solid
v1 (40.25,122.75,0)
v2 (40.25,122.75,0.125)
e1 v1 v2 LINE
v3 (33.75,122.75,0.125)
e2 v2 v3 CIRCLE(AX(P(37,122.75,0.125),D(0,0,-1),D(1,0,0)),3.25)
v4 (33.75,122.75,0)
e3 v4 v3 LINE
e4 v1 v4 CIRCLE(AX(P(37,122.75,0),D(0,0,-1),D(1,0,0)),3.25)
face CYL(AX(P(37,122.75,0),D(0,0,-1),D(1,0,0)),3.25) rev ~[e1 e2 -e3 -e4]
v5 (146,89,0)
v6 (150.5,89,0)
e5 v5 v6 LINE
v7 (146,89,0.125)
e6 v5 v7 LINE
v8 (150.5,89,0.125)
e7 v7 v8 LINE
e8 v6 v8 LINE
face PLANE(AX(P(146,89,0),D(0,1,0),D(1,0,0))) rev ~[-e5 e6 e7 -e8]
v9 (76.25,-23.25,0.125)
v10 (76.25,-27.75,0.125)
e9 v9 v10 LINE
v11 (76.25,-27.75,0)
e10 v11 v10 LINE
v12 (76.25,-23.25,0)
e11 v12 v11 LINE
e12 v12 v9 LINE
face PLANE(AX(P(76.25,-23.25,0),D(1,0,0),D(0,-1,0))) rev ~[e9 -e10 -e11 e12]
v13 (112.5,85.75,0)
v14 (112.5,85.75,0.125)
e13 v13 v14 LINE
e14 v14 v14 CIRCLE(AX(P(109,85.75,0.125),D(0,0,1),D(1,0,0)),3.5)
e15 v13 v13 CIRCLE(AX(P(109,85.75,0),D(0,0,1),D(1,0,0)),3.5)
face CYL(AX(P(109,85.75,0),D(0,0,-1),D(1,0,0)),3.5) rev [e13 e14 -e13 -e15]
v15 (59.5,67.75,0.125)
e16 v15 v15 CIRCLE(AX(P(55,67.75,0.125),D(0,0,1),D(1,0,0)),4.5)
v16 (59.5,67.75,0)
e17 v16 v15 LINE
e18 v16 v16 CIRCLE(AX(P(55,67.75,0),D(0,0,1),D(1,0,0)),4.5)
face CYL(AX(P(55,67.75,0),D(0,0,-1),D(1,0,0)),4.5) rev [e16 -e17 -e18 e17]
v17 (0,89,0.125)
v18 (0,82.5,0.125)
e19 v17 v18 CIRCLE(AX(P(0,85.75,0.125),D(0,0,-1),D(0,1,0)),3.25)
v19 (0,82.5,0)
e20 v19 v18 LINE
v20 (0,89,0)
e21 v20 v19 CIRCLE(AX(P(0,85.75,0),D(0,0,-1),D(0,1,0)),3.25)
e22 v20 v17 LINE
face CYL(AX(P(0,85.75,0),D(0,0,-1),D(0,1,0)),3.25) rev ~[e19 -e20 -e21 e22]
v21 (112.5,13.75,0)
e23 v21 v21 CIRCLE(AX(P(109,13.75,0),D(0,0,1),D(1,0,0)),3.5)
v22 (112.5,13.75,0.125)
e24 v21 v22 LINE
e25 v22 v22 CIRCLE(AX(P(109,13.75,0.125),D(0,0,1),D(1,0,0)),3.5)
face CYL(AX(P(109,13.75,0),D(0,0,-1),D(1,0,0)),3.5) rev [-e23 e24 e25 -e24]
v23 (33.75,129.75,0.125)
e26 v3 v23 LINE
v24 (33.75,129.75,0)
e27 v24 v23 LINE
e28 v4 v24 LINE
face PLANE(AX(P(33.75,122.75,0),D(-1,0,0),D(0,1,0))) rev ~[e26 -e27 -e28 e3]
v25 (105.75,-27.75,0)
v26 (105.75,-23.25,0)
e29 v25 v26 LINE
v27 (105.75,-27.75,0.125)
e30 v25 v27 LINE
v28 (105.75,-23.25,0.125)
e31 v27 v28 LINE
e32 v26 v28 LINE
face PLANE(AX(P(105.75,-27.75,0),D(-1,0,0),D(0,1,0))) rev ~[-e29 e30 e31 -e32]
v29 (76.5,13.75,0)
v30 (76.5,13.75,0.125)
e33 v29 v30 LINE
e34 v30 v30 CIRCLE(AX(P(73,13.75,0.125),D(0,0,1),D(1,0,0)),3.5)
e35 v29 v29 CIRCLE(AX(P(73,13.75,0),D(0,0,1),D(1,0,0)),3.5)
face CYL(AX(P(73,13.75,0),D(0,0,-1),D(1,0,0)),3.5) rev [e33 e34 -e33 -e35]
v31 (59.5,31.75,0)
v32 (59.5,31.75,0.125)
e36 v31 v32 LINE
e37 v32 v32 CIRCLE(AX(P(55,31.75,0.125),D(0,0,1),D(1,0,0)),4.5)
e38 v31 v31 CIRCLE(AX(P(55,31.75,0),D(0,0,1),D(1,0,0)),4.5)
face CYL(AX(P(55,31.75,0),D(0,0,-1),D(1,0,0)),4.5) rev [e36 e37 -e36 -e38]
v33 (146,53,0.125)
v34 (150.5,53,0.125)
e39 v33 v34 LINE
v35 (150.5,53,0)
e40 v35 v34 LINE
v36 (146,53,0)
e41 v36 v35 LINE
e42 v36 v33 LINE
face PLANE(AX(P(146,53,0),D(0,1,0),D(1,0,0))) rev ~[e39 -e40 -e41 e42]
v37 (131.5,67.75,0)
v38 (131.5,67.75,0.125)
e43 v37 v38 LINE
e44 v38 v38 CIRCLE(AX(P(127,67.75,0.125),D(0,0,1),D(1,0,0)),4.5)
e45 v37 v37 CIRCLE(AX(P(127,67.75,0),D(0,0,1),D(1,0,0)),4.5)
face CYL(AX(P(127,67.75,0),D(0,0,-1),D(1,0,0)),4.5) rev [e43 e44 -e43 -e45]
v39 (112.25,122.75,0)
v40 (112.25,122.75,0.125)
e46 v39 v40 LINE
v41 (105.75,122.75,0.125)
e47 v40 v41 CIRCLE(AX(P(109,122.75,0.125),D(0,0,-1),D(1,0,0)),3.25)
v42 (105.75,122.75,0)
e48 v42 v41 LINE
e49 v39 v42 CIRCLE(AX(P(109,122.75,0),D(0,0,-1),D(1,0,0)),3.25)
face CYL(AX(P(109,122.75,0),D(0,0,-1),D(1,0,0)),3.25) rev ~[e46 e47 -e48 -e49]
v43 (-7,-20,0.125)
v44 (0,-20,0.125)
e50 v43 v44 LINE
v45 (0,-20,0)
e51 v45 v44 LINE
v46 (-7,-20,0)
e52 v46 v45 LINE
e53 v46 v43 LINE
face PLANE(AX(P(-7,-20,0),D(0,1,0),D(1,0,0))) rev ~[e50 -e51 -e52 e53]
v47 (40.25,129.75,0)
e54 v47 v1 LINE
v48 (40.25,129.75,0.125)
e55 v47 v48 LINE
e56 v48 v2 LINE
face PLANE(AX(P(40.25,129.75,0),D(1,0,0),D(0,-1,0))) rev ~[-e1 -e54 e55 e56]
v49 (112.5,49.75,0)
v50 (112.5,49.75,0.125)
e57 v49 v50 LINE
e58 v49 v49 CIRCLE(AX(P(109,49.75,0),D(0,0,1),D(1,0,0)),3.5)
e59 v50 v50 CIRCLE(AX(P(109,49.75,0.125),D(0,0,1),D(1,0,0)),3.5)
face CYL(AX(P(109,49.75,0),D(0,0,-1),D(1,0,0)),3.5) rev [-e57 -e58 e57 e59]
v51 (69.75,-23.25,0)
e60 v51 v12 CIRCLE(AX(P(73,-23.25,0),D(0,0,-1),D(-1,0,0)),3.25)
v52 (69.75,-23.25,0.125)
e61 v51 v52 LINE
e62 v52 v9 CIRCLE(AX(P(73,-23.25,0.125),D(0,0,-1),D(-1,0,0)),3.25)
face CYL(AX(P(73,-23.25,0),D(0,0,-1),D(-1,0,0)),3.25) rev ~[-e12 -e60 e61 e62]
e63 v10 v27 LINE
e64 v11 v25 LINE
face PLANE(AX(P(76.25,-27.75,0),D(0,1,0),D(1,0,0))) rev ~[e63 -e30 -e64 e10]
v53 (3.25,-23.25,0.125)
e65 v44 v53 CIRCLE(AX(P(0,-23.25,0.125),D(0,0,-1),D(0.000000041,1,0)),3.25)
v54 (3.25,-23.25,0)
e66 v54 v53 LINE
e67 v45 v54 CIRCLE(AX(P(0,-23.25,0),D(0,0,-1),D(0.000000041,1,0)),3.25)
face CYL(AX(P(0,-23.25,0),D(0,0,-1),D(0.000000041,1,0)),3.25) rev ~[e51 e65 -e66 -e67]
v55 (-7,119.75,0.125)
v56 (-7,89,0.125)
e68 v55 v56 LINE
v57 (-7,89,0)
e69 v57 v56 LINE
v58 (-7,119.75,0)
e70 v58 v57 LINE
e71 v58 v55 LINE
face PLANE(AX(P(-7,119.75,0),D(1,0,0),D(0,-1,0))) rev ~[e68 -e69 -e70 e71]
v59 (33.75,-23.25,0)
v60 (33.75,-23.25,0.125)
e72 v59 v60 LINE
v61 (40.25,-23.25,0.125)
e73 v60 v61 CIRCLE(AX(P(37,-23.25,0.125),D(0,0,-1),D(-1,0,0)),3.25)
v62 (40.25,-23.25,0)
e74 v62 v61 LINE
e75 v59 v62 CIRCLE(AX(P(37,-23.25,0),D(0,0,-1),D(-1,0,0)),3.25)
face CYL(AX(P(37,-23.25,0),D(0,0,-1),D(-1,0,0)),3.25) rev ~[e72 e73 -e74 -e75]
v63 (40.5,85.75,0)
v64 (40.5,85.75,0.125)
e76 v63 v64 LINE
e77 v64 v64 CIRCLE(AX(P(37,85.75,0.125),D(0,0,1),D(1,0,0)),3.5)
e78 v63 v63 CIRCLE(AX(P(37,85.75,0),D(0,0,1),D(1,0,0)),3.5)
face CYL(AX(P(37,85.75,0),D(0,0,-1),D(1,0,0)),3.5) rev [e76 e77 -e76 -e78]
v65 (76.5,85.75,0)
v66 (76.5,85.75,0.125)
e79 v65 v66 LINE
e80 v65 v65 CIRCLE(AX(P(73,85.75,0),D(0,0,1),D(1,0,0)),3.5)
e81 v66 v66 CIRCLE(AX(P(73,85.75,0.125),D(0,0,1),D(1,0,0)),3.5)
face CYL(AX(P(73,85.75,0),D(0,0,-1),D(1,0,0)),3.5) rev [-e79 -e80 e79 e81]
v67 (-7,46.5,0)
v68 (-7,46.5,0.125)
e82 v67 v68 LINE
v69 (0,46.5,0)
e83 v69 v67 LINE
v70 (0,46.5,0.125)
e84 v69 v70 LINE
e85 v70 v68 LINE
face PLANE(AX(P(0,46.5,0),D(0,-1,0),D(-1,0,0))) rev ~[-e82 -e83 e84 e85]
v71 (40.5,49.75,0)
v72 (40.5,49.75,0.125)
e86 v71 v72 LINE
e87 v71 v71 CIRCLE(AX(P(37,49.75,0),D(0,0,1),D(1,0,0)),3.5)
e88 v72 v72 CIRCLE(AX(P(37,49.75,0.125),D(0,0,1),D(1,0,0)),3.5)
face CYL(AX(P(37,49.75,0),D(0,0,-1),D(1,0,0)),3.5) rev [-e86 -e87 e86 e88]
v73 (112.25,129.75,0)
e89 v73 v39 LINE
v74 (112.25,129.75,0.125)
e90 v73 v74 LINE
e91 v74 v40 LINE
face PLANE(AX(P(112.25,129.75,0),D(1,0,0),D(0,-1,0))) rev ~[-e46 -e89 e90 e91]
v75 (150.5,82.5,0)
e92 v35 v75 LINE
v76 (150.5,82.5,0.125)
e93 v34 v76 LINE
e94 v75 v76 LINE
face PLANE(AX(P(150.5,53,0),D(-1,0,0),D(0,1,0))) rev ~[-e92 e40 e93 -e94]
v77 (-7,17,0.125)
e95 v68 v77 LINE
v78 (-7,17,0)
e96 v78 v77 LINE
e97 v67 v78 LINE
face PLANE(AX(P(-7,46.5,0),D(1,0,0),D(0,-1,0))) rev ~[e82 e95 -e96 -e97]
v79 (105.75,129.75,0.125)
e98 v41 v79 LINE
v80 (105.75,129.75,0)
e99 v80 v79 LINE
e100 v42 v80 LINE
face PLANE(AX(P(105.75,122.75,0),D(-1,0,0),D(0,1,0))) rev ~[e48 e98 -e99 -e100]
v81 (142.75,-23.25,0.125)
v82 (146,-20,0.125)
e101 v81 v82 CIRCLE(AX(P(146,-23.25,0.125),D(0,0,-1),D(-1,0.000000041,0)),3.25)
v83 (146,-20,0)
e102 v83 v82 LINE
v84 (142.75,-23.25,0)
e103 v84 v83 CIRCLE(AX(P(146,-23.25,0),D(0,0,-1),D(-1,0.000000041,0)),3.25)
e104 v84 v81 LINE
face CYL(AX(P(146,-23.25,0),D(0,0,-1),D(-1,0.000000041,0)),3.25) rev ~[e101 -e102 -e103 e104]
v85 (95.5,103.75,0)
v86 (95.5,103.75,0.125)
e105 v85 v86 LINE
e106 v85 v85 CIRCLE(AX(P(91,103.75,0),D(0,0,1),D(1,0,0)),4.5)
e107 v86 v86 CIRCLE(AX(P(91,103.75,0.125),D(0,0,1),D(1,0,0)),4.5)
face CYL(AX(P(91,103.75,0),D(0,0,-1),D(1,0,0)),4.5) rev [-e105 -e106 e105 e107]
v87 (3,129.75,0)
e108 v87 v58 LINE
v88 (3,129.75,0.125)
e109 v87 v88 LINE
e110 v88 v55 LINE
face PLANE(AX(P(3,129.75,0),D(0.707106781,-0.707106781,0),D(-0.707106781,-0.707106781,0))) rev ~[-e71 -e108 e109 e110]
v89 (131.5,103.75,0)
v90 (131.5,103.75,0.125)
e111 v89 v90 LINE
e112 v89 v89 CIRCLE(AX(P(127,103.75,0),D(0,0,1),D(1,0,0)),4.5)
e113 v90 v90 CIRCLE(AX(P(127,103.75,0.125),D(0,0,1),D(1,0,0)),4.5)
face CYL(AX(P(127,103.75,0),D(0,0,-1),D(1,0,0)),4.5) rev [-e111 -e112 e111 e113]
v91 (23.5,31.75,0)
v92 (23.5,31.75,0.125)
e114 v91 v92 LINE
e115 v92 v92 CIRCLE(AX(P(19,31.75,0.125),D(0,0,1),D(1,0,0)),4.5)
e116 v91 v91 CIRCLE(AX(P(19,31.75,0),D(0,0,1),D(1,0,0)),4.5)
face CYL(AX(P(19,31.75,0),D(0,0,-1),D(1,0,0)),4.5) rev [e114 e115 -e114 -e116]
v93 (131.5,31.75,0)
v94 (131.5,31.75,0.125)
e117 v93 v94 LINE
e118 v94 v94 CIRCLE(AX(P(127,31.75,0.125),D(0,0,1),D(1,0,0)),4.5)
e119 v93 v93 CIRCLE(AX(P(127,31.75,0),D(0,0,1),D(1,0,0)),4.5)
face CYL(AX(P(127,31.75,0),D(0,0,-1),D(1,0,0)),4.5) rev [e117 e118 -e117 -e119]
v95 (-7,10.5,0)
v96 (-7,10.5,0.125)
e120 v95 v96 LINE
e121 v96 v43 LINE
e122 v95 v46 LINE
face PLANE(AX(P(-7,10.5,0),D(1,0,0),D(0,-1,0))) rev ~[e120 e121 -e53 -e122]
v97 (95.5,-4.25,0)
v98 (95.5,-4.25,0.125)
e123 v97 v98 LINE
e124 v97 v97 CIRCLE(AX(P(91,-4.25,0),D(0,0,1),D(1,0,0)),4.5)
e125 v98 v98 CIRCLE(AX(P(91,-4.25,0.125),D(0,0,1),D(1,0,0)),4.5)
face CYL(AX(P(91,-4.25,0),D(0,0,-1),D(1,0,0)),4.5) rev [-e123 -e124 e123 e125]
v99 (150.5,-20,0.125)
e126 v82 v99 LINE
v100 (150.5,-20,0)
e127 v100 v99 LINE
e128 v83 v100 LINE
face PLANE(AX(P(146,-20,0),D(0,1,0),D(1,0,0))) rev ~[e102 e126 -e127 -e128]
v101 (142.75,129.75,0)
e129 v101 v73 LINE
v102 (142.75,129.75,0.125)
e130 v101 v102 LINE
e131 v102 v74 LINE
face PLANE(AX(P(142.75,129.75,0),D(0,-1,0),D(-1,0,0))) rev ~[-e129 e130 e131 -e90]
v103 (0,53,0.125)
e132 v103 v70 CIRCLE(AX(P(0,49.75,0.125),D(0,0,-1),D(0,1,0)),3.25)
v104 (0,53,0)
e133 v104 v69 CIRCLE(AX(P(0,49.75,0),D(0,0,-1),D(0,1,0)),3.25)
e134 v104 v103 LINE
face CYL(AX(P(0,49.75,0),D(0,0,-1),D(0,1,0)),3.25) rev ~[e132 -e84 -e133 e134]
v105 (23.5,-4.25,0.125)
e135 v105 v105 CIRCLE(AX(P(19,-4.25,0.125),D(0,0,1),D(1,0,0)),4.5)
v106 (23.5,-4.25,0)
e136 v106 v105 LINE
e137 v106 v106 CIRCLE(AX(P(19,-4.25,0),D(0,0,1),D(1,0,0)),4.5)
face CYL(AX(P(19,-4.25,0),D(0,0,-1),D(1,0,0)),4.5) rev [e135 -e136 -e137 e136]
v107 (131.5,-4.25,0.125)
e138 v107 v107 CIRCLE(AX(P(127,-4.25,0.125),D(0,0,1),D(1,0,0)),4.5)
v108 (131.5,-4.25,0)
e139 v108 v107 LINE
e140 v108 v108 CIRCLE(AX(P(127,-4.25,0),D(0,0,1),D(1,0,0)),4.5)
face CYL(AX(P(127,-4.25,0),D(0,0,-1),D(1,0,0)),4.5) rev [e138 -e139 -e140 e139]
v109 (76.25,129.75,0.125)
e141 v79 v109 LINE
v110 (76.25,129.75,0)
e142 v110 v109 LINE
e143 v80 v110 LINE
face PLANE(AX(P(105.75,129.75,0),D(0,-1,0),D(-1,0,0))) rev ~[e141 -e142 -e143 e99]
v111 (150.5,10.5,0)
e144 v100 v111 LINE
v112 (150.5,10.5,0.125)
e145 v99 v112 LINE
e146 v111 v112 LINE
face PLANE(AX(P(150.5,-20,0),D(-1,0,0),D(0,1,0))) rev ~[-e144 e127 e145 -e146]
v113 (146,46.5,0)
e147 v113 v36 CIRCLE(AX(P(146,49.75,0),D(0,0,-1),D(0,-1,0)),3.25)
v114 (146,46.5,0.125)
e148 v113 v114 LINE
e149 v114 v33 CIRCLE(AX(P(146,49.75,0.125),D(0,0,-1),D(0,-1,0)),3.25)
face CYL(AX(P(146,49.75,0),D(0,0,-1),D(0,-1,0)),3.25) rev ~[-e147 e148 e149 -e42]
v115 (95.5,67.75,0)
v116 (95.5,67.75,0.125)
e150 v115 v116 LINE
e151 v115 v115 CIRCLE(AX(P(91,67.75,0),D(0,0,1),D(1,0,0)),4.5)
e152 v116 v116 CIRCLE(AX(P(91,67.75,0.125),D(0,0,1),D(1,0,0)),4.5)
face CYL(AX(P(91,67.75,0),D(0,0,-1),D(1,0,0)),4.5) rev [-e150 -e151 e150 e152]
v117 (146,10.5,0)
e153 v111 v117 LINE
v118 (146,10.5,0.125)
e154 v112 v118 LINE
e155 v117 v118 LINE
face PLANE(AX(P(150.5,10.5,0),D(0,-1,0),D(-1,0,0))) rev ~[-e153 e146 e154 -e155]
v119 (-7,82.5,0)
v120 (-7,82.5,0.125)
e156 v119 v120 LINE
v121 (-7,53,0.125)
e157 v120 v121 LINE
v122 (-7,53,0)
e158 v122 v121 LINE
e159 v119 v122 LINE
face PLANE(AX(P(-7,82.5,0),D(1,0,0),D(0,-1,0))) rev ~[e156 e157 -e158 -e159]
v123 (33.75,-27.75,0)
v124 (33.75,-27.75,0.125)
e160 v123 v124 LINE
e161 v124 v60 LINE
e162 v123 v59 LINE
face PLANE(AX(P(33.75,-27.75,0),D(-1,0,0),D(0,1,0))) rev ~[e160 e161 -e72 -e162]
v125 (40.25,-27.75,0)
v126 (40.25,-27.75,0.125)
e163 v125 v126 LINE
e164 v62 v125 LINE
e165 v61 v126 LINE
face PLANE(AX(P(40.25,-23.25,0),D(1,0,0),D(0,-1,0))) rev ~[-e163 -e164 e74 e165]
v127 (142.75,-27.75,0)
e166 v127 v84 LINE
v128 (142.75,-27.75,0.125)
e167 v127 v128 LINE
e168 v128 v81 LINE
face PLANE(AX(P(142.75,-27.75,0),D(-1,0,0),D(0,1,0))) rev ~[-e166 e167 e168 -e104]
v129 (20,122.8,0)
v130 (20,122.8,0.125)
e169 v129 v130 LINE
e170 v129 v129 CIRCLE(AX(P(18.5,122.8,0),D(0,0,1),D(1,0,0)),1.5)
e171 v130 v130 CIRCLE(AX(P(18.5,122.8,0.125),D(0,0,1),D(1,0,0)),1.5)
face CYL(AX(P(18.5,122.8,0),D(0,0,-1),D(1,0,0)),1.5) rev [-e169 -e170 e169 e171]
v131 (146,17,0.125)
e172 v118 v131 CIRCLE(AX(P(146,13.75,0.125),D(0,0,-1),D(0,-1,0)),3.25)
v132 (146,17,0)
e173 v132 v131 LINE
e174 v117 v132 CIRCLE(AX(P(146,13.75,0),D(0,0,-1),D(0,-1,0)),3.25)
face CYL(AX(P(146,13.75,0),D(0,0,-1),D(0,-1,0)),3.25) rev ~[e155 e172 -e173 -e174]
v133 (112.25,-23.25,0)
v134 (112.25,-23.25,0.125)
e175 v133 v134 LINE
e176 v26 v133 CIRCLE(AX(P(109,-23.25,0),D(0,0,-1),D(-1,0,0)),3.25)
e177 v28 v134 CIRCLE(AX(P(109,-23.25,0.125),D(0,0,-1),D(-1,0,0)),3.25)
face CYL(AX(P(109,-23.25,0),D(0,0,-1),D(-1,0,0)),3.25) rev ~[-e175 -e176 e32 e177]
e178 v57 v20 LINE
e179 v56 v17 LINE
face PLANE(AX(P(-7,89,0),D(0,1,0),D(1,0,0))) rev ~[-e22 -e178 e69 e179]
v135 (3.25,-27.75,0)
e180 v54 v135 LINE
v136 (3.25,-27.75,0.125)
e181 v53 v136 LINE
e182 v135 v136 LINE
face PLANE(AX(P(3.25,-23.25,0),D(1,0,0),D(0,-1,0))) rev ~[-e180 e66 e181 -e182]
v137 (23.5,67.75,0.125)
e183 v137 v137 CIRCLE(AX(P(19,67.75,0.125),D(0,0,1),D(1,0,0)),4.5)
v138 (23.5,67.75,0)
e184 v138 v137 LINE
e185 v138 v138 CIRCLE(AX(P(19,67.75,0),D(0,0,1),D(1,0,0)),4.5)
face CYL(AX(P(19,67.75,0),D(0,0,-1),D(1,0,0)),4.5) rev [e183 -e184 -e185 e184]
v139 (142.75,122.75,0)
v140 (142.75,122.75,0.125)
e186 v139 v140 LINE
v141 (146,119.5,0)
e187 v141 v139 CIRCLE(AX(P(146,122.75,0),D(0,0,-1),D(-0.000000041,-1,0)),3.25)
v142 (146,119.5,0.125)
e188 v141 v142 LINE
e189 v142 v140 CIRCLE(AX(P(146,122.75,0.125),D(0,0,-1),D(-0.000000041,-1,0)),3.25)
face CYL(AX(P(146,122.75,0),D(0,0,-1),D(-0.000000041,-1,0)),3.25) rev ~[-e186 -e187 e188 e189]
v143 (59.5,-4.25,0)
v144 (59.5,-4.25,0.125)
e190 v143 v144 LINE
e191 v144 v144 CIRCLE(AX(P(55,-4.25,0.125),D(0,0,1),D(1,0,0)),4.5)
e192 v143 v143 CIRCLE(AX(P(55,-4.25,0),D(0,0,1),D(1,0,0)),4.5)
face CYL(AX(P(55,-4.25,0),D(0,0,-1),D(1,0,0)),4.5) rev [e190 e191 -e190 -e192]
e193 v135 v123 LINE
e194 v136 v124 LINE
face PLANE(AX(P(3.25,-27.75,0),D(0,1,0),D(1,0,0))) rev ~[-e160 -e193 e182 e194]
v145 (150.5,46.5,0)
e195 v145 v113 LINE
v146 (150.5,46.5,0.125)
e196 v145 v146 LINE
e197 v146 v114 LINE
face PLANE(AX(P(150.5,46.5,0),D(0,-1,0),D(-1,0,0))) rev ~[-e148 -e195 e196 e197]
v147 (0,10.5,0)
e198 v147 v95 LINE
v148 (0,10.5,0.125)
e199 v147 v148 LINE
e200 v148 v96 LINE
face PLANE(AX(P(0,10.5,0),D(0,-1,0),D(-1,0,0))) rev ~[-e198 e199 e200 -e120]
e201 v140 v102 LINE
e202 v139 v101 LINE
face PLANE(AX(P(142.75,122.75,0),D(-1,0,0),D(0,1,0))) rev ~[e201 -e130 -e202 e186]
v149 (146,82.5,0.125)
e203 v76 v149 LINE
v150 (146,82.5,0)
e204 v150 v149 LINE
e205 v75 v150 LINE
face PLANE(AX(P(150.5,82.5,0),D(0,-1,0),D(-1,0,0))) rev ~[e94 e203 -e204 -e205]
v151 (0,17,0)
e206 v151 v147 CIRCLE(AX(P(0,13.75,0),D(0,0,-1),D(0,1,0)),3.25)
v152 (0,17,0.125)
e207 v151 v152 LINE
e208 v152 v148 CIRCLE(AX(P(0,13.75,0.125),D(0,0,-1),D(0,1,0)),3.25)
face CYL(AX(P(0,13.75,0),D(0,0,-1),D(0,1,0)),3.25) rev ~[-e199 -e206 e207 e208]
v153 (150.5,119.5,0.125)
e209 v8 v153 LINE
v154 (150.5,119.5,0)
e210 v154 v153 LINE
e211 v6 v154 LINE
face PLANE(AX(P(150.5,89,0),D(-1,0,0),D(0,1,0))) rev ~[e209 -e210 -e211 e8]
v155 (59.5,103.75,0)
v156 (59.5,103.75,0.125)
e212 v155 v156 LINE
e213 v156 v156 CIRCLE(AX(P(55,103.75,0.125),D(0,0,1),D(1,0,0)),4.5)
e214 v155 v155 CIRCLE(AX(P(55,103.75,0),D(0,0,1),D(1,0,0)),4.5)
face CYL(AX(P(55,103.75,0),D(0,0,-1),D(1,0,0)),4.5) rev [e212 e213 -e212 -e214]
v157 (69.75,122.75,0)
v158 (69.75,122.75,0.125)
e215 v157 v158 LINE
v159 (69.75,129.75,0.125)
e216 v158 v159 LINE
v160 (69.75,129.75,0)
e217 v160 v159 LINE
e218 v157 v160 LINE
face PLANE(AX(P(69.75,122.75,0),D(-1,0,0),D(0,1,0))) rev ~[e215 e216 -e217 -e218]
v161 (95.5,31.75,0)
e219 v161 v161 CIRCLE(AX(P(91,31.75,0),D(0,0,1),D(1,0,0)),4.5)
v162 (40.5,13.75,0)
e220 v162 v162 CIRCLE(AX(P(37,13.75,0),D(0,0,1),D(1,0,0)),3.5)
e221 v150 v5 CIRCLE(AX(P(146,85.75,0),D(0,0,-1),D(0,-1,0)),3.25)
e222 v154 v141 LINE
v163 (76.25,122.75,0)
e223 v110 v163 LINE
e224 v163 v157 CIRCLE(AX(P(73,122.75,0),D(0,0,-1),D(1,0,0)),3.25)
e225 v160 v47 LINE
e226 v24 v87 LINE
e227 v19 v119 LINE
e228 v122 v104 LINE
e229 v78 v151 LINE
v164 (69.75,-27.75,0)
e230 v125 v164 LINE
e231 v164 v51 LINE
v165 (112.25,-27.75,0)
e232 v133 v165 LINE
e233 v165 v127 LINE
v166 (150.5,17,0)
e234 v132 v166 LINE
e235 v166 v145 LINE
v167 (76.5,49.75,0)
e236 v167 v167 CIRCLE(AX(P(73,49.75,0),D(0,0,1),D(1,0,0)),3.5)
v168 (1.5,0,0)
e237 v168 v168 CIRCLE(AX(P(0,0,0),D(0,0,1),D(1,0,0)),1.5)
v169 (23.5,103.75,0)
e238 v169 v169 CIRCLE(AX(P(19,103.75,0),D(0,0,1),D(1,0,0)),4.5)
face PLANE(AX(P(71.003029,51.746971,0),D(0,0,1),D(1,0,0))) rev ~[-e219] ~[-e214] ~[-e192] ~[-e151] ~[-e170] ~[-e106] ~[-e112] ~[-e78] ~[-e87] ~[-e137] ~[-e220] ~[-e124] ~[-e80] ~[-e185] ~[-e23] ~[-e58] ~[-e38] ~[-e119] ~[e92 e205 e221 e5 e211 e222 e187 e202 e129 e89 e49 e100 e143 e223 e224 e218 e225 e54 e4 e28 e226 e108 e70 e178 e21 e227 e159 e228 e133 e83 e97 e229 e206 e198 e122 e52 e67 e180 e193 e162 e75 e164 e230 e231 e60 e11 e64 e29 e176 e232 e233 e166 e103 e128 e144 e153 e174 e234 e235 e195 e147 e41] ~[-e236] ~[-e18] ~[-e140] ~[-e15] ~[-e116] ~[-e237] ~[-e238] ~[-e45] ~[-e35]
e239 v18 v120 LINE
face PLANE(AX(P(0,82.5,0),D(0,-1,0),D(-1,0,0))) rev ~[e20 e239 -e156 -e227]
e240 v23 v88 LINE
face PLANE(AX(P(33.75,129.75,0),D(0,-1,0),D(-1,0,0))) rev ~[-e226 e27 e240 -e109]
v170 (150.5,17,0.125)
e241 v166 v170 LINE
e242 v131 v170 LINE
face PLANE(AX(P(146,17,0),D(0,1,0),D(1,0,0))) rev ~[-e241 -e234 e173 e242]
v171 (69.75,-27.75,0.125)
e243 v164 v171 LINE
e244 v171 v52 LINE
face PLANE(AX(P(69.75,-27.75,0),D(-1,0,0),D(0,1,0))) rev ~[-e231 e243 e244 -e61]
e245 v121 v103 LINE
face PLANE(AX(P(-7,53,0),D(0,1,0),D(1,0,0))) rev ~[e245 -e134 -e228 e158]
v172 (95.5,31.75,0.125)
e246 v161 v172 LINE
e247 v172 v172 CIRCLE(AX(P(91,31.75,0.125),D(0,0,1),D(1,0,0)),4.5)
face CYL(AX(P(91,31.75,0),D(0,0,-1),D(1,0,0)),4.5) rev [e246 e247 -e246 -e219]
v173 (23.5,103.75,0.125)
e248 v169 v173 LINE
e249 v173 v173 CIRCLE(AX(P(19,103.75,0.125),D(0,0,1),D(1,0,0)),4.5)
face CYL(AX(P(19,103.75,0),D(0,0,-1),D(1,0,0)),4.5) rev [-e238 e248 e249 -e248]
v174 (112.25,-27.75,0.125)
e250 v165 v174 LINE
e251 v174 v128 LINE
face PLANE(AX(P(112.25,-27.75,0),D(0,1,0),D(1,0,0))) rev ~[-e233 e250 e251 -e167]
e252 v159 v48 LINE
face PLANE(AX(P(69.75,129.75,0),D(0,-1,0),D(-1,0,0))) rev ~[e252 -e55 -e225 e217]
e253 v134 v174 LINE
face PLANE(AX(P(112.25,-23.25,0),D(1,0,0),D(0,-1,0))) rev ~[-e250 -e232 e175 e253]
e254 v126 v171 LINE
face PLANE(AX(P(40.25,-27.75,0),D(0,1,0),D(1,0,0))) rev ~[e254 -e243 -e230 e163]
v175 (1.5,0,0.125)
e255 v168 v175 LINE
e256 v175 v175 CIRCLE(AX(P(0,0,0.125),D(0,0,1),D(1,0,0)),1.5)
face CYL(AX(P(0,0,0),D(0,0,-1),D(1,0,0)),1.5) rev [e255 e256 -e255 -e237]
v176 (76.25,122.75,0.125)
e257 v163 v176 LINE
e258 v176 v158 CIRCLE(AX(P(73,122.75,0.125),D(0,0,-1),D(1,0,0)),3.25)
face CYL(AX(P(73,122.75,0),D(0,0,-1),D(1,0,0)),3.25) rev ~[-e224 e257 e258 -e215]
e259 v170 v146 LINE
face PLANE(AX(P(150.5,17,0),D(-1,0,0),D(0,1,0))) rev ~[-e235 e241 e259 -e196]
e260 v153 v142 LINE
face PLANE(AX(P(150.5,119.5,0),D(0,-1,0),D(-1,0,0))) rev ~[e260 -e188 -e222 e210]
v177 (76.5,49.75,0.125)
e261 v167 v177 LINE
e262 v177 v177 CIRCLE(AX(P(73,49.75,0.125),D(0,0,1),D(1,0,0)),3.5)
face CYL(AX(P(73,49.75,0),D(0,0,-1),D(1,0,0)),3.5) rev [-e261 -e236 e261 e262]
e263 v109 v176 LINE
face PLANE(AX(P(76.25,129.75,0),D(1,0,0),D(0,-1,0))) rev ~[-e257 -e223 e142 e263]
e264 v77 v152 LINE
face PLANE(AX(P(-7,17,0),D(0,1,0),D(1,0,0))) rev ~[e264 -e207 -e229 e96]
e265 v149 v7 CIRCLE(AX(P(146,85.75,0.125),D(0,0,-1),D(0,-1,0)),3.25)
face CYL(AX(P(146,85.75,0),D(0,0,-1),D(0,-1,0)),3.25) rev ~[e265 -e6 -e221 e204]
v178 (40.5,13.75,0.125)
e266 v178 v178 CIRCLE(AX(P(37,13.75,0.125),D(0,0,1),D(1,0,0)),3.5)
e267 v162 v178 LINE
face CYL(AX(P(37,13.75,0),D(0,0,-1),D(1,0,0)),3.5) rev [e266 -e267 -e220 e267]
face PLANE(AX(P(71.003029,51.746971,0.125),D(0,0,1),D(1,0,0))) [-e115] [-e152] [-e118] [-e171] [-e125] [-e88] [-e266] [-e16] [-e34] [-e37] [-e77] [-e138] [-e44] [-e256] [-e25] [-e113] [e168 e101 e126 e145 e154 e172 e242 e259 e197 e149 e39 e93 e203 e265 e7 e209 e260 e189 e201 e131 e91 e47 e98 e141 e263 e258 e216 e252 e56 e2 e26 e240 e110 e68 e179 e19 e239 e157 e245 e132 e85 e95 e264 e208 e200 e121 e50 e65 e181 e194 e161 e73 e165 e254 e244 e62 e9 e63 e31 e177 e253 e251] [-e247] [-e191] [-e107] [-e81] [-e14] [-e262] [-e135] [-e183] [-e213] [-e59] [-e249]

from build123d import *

# Parameters (mm, degrees)
F0_R     = 1.5
F0_R_2   = 4.5
F0_R_3   = 3.5
F1_DEPTH = 0.125


with BuildPart() as f1:
    # F0 (on Top) → F1 (new body)
    with BuildSketch(Plane.XY):
        with BuildLine():
            Line((142.75, 122.75), (142.75, 129.75))
            Line((142.75, 129.75), (112.25, 129.75))
            Line((112.25, 129.75), (112.25, 122.75))
            ThreePointArc((112.25, 122.75), (109, 119.5), (105.75, 122.75))
            Line((105.75, 122.75), (105.75, 129.75))
            Line((105.75, 129.75), (76.25, 129.75))
            Line((76.25, 129.75), (76.25, 122.75))
            ThreePointArc((76.25, 122.75), (73, 119.5), (69.75, 122.75))
            Line((69.75, 122.75), (69.75, 129.75))
            Line((69.75, 129.75), (40.25, 129.75))
            Line((40.25, 129.75), (40.25, 122.75))
            ThreePointArc((40.25, 122.75), (37, 119.5), (33.75, 122.75))
            Line((33.75, 122.75), (33.75, 129.75))
            Line((33.75, 129.75), (3, 129.75))
            Line((3, 129.75), (-7, 119.75))
            Line((-7, 119.75), (-7, 89))
            Line((-7, 89), (0, 89))
            ThreePointArc((0, 89), (3.25, 85.75), (0, 82.5))
            Line((0, 82.5), (-7, 82.5))
            Line((-7, 82.5), (-7, 53))
            Line((-7, 53), (0, 53))
            ThreePointArc((0, 53), (3.25, 49.75), (0, 46.5))
            Line((0, 46.5), (-7, 46.5))
            Line((-7, 46.5), (-7, 17))
            Line((-7, 17), (0, 17))
            ThreePointArc((0, 17), (3.25, 13.75), (0, 10.5))
            Line((0, 10.5), (-7, 10.5))
            Line((-7, 10.5), (-7, -20))
            Line((-7, -20), (0, -20))
            ThreePointArc((0, -20), (2.298097, -20.951903), (3.25, -23.25))
            Line((3.25, -23.25), (3.25, -27.75))
            Line((3.25, -27.75), (33.75, -27.75))
            Line((33.75, -27.75), (33.75, -23.25))
            ThreePointArc((33.75, -23.25), (37, -20), (40.25, -23.25))
            Line((40.25, -23.25), (40.25, -27.75))
            Line((40.25, -27.75), (69.75, -27.75))
            Line((69.75, -27.75), (69.75, -23.25))
            ThreePointArc((69.75, -23.25), (73, -20), (76.25, -23.25))
            Line((76.25, -23.25), (76.25, -27.75))
            Line((76.25, -27.75), (105.75, -27.75))
            Line((105.75, -27.75), (105.75, -23.25))
            ThreePointArc((105.75, -23.25), (109, -20), (112.25, -23.25))
            Line((112.25, -23.25), (112.25, -27.75))
            Line((112.25, -27.75), (142.75, -27.75))
            Line((142.75, -27.75), (142.75, -23.25))
            ThreePointArc((142.75, -23.25), (143.701903, -20.951903), (146, -20))
            Line((146, -20), (150.5, -20))
            Line((150.5, -20), (150.5, 10.5))
            Line((150.5, 10.5), (146, 10.5))
            ThreePointArc((146, 10.5), (142.75, 13.75), (146, 17))
            Line((146, 17), (150.5, 17))
            Line((150.5, 17), (150.5, 46.5))
            Line((150.5, 46.5), (146, 46.5))
            ThreePointArc((146, 46.5), (142.75, 49.75), (146, 53))
            Line((146, 53), (150.5, 53))
            Line((150.5, 53), (150.5, 82.5))
            Line((150.5, 82.5), (146, 82.5))
            ThreePointArc((146, 82.5), (142.75, 85.75), (146, 89))
            Line((146, 89), (150.5, 89))
            Line((150.5, 89), (150.5, 119.5))
            Line((150.5, 119.5), (146, 119.5))
            ThreePointArc((146, 119.5), (143.701903, 120.451903), (142.75, 122.75))
        make_face()
        Circle(F0_R, mode=Mode.SUBTRACT)
        with Locations((19, -4.25)):
            Circle(F0_R_2, mode=Mode.SUBTRACT)
        with Locations((55, -4.25)):
            Circle(F0_R_2, mode=Mode.SUBTRACT)
        with Locations((19, 31.75)):
            Circle(F0_R_2, mode=Mode.SUBTRACT)
        with Locations((37, 13.75)):
            Circle(F0_R_3, mode=Mode.SUBTRACT)
        with Locations((37, 49.75)):
            Circle(F0_R_3, mode=Mode.SUBTRACT)
        with Locations((55, 31.75)):
            Circle(F0_R_2, mode=Mode.SUBTRACT)
        with Locations((91, -4.25)):
            Circle(F0_R_2, mode=Mode.SUBTRACT)
        with Locations((127, -4.25)):
            Circle(F0_R_2, mode=Mode.SUBTRACT)
        with Locations((73, 13.75)):
            Circle(F0_R_3, mode=Mode.SUBTRACT)
        with Locations((109, 13.75)):
            Circle(F0_R_3, mode=Mode.SUBTRACT)
        with Locations((91, 31.75)):
            Circle(F0_R_2, mode=Mode.SUBTRACT)
        with Locations((73, 49.75)):
            Circle(F0_R_3, mode=Mode.SUBTRACT)
        with Locations((109, 49.75)):
            Circle(F0_R_3, mode=Mode.SUBTRACT)
        with Locations((127, 31.75)):
            Circle(F0_R_2, mode=Mode.SUBTRACT)
        with Locations((19, 67.75)):
            Circle(F0_R_2, mode=Mode.SUBTRACT)
        with Locations((55, 67.75)):
            Circle(F0_R_2, mode=Mode.SUBTRACT)
        with Locations((37, 85.75)):
            Circle(F0_R_3, mode=Mode.SUBTRACT)
        with Locations((19, 103.75)):
            Circle(F0_R_2, mode=Mode.SUBTRACT)
        with Locations((18.5, 122.8)):
            Circle(F0_R, mode=Mode.SUBTRACT)
        with Locations((55, 103.75)):
            Circle(F0_R_2, mode=Mode.SUBTRACT)
        with Locations((91, 67.75)):
            Circle(F0_R_2, mode=Mode.SUBTRACT)
        with Locations((73, 85.75)):
            Circle(F0_R_3, mode=Mode.SUBTRACT)
        with Locations((109, 85.75)):
            Circle(F0_R_3, mode=Mode.SUBTRACT)
        with Locations((127, 67.75)):
            Circle(F0_R_2, mode=Mode.SUBTRACT)
        with Locations((91, 103.75)):
            Circle(F0_R_2, mode=Mode.SUBTRACT)
        with Locations((127, 103.75)):
            Circle(F0_R_2, mode=Mode.SUBTRACT)
    extrude(amount=F1_DEPTH)


solid = f1.part
